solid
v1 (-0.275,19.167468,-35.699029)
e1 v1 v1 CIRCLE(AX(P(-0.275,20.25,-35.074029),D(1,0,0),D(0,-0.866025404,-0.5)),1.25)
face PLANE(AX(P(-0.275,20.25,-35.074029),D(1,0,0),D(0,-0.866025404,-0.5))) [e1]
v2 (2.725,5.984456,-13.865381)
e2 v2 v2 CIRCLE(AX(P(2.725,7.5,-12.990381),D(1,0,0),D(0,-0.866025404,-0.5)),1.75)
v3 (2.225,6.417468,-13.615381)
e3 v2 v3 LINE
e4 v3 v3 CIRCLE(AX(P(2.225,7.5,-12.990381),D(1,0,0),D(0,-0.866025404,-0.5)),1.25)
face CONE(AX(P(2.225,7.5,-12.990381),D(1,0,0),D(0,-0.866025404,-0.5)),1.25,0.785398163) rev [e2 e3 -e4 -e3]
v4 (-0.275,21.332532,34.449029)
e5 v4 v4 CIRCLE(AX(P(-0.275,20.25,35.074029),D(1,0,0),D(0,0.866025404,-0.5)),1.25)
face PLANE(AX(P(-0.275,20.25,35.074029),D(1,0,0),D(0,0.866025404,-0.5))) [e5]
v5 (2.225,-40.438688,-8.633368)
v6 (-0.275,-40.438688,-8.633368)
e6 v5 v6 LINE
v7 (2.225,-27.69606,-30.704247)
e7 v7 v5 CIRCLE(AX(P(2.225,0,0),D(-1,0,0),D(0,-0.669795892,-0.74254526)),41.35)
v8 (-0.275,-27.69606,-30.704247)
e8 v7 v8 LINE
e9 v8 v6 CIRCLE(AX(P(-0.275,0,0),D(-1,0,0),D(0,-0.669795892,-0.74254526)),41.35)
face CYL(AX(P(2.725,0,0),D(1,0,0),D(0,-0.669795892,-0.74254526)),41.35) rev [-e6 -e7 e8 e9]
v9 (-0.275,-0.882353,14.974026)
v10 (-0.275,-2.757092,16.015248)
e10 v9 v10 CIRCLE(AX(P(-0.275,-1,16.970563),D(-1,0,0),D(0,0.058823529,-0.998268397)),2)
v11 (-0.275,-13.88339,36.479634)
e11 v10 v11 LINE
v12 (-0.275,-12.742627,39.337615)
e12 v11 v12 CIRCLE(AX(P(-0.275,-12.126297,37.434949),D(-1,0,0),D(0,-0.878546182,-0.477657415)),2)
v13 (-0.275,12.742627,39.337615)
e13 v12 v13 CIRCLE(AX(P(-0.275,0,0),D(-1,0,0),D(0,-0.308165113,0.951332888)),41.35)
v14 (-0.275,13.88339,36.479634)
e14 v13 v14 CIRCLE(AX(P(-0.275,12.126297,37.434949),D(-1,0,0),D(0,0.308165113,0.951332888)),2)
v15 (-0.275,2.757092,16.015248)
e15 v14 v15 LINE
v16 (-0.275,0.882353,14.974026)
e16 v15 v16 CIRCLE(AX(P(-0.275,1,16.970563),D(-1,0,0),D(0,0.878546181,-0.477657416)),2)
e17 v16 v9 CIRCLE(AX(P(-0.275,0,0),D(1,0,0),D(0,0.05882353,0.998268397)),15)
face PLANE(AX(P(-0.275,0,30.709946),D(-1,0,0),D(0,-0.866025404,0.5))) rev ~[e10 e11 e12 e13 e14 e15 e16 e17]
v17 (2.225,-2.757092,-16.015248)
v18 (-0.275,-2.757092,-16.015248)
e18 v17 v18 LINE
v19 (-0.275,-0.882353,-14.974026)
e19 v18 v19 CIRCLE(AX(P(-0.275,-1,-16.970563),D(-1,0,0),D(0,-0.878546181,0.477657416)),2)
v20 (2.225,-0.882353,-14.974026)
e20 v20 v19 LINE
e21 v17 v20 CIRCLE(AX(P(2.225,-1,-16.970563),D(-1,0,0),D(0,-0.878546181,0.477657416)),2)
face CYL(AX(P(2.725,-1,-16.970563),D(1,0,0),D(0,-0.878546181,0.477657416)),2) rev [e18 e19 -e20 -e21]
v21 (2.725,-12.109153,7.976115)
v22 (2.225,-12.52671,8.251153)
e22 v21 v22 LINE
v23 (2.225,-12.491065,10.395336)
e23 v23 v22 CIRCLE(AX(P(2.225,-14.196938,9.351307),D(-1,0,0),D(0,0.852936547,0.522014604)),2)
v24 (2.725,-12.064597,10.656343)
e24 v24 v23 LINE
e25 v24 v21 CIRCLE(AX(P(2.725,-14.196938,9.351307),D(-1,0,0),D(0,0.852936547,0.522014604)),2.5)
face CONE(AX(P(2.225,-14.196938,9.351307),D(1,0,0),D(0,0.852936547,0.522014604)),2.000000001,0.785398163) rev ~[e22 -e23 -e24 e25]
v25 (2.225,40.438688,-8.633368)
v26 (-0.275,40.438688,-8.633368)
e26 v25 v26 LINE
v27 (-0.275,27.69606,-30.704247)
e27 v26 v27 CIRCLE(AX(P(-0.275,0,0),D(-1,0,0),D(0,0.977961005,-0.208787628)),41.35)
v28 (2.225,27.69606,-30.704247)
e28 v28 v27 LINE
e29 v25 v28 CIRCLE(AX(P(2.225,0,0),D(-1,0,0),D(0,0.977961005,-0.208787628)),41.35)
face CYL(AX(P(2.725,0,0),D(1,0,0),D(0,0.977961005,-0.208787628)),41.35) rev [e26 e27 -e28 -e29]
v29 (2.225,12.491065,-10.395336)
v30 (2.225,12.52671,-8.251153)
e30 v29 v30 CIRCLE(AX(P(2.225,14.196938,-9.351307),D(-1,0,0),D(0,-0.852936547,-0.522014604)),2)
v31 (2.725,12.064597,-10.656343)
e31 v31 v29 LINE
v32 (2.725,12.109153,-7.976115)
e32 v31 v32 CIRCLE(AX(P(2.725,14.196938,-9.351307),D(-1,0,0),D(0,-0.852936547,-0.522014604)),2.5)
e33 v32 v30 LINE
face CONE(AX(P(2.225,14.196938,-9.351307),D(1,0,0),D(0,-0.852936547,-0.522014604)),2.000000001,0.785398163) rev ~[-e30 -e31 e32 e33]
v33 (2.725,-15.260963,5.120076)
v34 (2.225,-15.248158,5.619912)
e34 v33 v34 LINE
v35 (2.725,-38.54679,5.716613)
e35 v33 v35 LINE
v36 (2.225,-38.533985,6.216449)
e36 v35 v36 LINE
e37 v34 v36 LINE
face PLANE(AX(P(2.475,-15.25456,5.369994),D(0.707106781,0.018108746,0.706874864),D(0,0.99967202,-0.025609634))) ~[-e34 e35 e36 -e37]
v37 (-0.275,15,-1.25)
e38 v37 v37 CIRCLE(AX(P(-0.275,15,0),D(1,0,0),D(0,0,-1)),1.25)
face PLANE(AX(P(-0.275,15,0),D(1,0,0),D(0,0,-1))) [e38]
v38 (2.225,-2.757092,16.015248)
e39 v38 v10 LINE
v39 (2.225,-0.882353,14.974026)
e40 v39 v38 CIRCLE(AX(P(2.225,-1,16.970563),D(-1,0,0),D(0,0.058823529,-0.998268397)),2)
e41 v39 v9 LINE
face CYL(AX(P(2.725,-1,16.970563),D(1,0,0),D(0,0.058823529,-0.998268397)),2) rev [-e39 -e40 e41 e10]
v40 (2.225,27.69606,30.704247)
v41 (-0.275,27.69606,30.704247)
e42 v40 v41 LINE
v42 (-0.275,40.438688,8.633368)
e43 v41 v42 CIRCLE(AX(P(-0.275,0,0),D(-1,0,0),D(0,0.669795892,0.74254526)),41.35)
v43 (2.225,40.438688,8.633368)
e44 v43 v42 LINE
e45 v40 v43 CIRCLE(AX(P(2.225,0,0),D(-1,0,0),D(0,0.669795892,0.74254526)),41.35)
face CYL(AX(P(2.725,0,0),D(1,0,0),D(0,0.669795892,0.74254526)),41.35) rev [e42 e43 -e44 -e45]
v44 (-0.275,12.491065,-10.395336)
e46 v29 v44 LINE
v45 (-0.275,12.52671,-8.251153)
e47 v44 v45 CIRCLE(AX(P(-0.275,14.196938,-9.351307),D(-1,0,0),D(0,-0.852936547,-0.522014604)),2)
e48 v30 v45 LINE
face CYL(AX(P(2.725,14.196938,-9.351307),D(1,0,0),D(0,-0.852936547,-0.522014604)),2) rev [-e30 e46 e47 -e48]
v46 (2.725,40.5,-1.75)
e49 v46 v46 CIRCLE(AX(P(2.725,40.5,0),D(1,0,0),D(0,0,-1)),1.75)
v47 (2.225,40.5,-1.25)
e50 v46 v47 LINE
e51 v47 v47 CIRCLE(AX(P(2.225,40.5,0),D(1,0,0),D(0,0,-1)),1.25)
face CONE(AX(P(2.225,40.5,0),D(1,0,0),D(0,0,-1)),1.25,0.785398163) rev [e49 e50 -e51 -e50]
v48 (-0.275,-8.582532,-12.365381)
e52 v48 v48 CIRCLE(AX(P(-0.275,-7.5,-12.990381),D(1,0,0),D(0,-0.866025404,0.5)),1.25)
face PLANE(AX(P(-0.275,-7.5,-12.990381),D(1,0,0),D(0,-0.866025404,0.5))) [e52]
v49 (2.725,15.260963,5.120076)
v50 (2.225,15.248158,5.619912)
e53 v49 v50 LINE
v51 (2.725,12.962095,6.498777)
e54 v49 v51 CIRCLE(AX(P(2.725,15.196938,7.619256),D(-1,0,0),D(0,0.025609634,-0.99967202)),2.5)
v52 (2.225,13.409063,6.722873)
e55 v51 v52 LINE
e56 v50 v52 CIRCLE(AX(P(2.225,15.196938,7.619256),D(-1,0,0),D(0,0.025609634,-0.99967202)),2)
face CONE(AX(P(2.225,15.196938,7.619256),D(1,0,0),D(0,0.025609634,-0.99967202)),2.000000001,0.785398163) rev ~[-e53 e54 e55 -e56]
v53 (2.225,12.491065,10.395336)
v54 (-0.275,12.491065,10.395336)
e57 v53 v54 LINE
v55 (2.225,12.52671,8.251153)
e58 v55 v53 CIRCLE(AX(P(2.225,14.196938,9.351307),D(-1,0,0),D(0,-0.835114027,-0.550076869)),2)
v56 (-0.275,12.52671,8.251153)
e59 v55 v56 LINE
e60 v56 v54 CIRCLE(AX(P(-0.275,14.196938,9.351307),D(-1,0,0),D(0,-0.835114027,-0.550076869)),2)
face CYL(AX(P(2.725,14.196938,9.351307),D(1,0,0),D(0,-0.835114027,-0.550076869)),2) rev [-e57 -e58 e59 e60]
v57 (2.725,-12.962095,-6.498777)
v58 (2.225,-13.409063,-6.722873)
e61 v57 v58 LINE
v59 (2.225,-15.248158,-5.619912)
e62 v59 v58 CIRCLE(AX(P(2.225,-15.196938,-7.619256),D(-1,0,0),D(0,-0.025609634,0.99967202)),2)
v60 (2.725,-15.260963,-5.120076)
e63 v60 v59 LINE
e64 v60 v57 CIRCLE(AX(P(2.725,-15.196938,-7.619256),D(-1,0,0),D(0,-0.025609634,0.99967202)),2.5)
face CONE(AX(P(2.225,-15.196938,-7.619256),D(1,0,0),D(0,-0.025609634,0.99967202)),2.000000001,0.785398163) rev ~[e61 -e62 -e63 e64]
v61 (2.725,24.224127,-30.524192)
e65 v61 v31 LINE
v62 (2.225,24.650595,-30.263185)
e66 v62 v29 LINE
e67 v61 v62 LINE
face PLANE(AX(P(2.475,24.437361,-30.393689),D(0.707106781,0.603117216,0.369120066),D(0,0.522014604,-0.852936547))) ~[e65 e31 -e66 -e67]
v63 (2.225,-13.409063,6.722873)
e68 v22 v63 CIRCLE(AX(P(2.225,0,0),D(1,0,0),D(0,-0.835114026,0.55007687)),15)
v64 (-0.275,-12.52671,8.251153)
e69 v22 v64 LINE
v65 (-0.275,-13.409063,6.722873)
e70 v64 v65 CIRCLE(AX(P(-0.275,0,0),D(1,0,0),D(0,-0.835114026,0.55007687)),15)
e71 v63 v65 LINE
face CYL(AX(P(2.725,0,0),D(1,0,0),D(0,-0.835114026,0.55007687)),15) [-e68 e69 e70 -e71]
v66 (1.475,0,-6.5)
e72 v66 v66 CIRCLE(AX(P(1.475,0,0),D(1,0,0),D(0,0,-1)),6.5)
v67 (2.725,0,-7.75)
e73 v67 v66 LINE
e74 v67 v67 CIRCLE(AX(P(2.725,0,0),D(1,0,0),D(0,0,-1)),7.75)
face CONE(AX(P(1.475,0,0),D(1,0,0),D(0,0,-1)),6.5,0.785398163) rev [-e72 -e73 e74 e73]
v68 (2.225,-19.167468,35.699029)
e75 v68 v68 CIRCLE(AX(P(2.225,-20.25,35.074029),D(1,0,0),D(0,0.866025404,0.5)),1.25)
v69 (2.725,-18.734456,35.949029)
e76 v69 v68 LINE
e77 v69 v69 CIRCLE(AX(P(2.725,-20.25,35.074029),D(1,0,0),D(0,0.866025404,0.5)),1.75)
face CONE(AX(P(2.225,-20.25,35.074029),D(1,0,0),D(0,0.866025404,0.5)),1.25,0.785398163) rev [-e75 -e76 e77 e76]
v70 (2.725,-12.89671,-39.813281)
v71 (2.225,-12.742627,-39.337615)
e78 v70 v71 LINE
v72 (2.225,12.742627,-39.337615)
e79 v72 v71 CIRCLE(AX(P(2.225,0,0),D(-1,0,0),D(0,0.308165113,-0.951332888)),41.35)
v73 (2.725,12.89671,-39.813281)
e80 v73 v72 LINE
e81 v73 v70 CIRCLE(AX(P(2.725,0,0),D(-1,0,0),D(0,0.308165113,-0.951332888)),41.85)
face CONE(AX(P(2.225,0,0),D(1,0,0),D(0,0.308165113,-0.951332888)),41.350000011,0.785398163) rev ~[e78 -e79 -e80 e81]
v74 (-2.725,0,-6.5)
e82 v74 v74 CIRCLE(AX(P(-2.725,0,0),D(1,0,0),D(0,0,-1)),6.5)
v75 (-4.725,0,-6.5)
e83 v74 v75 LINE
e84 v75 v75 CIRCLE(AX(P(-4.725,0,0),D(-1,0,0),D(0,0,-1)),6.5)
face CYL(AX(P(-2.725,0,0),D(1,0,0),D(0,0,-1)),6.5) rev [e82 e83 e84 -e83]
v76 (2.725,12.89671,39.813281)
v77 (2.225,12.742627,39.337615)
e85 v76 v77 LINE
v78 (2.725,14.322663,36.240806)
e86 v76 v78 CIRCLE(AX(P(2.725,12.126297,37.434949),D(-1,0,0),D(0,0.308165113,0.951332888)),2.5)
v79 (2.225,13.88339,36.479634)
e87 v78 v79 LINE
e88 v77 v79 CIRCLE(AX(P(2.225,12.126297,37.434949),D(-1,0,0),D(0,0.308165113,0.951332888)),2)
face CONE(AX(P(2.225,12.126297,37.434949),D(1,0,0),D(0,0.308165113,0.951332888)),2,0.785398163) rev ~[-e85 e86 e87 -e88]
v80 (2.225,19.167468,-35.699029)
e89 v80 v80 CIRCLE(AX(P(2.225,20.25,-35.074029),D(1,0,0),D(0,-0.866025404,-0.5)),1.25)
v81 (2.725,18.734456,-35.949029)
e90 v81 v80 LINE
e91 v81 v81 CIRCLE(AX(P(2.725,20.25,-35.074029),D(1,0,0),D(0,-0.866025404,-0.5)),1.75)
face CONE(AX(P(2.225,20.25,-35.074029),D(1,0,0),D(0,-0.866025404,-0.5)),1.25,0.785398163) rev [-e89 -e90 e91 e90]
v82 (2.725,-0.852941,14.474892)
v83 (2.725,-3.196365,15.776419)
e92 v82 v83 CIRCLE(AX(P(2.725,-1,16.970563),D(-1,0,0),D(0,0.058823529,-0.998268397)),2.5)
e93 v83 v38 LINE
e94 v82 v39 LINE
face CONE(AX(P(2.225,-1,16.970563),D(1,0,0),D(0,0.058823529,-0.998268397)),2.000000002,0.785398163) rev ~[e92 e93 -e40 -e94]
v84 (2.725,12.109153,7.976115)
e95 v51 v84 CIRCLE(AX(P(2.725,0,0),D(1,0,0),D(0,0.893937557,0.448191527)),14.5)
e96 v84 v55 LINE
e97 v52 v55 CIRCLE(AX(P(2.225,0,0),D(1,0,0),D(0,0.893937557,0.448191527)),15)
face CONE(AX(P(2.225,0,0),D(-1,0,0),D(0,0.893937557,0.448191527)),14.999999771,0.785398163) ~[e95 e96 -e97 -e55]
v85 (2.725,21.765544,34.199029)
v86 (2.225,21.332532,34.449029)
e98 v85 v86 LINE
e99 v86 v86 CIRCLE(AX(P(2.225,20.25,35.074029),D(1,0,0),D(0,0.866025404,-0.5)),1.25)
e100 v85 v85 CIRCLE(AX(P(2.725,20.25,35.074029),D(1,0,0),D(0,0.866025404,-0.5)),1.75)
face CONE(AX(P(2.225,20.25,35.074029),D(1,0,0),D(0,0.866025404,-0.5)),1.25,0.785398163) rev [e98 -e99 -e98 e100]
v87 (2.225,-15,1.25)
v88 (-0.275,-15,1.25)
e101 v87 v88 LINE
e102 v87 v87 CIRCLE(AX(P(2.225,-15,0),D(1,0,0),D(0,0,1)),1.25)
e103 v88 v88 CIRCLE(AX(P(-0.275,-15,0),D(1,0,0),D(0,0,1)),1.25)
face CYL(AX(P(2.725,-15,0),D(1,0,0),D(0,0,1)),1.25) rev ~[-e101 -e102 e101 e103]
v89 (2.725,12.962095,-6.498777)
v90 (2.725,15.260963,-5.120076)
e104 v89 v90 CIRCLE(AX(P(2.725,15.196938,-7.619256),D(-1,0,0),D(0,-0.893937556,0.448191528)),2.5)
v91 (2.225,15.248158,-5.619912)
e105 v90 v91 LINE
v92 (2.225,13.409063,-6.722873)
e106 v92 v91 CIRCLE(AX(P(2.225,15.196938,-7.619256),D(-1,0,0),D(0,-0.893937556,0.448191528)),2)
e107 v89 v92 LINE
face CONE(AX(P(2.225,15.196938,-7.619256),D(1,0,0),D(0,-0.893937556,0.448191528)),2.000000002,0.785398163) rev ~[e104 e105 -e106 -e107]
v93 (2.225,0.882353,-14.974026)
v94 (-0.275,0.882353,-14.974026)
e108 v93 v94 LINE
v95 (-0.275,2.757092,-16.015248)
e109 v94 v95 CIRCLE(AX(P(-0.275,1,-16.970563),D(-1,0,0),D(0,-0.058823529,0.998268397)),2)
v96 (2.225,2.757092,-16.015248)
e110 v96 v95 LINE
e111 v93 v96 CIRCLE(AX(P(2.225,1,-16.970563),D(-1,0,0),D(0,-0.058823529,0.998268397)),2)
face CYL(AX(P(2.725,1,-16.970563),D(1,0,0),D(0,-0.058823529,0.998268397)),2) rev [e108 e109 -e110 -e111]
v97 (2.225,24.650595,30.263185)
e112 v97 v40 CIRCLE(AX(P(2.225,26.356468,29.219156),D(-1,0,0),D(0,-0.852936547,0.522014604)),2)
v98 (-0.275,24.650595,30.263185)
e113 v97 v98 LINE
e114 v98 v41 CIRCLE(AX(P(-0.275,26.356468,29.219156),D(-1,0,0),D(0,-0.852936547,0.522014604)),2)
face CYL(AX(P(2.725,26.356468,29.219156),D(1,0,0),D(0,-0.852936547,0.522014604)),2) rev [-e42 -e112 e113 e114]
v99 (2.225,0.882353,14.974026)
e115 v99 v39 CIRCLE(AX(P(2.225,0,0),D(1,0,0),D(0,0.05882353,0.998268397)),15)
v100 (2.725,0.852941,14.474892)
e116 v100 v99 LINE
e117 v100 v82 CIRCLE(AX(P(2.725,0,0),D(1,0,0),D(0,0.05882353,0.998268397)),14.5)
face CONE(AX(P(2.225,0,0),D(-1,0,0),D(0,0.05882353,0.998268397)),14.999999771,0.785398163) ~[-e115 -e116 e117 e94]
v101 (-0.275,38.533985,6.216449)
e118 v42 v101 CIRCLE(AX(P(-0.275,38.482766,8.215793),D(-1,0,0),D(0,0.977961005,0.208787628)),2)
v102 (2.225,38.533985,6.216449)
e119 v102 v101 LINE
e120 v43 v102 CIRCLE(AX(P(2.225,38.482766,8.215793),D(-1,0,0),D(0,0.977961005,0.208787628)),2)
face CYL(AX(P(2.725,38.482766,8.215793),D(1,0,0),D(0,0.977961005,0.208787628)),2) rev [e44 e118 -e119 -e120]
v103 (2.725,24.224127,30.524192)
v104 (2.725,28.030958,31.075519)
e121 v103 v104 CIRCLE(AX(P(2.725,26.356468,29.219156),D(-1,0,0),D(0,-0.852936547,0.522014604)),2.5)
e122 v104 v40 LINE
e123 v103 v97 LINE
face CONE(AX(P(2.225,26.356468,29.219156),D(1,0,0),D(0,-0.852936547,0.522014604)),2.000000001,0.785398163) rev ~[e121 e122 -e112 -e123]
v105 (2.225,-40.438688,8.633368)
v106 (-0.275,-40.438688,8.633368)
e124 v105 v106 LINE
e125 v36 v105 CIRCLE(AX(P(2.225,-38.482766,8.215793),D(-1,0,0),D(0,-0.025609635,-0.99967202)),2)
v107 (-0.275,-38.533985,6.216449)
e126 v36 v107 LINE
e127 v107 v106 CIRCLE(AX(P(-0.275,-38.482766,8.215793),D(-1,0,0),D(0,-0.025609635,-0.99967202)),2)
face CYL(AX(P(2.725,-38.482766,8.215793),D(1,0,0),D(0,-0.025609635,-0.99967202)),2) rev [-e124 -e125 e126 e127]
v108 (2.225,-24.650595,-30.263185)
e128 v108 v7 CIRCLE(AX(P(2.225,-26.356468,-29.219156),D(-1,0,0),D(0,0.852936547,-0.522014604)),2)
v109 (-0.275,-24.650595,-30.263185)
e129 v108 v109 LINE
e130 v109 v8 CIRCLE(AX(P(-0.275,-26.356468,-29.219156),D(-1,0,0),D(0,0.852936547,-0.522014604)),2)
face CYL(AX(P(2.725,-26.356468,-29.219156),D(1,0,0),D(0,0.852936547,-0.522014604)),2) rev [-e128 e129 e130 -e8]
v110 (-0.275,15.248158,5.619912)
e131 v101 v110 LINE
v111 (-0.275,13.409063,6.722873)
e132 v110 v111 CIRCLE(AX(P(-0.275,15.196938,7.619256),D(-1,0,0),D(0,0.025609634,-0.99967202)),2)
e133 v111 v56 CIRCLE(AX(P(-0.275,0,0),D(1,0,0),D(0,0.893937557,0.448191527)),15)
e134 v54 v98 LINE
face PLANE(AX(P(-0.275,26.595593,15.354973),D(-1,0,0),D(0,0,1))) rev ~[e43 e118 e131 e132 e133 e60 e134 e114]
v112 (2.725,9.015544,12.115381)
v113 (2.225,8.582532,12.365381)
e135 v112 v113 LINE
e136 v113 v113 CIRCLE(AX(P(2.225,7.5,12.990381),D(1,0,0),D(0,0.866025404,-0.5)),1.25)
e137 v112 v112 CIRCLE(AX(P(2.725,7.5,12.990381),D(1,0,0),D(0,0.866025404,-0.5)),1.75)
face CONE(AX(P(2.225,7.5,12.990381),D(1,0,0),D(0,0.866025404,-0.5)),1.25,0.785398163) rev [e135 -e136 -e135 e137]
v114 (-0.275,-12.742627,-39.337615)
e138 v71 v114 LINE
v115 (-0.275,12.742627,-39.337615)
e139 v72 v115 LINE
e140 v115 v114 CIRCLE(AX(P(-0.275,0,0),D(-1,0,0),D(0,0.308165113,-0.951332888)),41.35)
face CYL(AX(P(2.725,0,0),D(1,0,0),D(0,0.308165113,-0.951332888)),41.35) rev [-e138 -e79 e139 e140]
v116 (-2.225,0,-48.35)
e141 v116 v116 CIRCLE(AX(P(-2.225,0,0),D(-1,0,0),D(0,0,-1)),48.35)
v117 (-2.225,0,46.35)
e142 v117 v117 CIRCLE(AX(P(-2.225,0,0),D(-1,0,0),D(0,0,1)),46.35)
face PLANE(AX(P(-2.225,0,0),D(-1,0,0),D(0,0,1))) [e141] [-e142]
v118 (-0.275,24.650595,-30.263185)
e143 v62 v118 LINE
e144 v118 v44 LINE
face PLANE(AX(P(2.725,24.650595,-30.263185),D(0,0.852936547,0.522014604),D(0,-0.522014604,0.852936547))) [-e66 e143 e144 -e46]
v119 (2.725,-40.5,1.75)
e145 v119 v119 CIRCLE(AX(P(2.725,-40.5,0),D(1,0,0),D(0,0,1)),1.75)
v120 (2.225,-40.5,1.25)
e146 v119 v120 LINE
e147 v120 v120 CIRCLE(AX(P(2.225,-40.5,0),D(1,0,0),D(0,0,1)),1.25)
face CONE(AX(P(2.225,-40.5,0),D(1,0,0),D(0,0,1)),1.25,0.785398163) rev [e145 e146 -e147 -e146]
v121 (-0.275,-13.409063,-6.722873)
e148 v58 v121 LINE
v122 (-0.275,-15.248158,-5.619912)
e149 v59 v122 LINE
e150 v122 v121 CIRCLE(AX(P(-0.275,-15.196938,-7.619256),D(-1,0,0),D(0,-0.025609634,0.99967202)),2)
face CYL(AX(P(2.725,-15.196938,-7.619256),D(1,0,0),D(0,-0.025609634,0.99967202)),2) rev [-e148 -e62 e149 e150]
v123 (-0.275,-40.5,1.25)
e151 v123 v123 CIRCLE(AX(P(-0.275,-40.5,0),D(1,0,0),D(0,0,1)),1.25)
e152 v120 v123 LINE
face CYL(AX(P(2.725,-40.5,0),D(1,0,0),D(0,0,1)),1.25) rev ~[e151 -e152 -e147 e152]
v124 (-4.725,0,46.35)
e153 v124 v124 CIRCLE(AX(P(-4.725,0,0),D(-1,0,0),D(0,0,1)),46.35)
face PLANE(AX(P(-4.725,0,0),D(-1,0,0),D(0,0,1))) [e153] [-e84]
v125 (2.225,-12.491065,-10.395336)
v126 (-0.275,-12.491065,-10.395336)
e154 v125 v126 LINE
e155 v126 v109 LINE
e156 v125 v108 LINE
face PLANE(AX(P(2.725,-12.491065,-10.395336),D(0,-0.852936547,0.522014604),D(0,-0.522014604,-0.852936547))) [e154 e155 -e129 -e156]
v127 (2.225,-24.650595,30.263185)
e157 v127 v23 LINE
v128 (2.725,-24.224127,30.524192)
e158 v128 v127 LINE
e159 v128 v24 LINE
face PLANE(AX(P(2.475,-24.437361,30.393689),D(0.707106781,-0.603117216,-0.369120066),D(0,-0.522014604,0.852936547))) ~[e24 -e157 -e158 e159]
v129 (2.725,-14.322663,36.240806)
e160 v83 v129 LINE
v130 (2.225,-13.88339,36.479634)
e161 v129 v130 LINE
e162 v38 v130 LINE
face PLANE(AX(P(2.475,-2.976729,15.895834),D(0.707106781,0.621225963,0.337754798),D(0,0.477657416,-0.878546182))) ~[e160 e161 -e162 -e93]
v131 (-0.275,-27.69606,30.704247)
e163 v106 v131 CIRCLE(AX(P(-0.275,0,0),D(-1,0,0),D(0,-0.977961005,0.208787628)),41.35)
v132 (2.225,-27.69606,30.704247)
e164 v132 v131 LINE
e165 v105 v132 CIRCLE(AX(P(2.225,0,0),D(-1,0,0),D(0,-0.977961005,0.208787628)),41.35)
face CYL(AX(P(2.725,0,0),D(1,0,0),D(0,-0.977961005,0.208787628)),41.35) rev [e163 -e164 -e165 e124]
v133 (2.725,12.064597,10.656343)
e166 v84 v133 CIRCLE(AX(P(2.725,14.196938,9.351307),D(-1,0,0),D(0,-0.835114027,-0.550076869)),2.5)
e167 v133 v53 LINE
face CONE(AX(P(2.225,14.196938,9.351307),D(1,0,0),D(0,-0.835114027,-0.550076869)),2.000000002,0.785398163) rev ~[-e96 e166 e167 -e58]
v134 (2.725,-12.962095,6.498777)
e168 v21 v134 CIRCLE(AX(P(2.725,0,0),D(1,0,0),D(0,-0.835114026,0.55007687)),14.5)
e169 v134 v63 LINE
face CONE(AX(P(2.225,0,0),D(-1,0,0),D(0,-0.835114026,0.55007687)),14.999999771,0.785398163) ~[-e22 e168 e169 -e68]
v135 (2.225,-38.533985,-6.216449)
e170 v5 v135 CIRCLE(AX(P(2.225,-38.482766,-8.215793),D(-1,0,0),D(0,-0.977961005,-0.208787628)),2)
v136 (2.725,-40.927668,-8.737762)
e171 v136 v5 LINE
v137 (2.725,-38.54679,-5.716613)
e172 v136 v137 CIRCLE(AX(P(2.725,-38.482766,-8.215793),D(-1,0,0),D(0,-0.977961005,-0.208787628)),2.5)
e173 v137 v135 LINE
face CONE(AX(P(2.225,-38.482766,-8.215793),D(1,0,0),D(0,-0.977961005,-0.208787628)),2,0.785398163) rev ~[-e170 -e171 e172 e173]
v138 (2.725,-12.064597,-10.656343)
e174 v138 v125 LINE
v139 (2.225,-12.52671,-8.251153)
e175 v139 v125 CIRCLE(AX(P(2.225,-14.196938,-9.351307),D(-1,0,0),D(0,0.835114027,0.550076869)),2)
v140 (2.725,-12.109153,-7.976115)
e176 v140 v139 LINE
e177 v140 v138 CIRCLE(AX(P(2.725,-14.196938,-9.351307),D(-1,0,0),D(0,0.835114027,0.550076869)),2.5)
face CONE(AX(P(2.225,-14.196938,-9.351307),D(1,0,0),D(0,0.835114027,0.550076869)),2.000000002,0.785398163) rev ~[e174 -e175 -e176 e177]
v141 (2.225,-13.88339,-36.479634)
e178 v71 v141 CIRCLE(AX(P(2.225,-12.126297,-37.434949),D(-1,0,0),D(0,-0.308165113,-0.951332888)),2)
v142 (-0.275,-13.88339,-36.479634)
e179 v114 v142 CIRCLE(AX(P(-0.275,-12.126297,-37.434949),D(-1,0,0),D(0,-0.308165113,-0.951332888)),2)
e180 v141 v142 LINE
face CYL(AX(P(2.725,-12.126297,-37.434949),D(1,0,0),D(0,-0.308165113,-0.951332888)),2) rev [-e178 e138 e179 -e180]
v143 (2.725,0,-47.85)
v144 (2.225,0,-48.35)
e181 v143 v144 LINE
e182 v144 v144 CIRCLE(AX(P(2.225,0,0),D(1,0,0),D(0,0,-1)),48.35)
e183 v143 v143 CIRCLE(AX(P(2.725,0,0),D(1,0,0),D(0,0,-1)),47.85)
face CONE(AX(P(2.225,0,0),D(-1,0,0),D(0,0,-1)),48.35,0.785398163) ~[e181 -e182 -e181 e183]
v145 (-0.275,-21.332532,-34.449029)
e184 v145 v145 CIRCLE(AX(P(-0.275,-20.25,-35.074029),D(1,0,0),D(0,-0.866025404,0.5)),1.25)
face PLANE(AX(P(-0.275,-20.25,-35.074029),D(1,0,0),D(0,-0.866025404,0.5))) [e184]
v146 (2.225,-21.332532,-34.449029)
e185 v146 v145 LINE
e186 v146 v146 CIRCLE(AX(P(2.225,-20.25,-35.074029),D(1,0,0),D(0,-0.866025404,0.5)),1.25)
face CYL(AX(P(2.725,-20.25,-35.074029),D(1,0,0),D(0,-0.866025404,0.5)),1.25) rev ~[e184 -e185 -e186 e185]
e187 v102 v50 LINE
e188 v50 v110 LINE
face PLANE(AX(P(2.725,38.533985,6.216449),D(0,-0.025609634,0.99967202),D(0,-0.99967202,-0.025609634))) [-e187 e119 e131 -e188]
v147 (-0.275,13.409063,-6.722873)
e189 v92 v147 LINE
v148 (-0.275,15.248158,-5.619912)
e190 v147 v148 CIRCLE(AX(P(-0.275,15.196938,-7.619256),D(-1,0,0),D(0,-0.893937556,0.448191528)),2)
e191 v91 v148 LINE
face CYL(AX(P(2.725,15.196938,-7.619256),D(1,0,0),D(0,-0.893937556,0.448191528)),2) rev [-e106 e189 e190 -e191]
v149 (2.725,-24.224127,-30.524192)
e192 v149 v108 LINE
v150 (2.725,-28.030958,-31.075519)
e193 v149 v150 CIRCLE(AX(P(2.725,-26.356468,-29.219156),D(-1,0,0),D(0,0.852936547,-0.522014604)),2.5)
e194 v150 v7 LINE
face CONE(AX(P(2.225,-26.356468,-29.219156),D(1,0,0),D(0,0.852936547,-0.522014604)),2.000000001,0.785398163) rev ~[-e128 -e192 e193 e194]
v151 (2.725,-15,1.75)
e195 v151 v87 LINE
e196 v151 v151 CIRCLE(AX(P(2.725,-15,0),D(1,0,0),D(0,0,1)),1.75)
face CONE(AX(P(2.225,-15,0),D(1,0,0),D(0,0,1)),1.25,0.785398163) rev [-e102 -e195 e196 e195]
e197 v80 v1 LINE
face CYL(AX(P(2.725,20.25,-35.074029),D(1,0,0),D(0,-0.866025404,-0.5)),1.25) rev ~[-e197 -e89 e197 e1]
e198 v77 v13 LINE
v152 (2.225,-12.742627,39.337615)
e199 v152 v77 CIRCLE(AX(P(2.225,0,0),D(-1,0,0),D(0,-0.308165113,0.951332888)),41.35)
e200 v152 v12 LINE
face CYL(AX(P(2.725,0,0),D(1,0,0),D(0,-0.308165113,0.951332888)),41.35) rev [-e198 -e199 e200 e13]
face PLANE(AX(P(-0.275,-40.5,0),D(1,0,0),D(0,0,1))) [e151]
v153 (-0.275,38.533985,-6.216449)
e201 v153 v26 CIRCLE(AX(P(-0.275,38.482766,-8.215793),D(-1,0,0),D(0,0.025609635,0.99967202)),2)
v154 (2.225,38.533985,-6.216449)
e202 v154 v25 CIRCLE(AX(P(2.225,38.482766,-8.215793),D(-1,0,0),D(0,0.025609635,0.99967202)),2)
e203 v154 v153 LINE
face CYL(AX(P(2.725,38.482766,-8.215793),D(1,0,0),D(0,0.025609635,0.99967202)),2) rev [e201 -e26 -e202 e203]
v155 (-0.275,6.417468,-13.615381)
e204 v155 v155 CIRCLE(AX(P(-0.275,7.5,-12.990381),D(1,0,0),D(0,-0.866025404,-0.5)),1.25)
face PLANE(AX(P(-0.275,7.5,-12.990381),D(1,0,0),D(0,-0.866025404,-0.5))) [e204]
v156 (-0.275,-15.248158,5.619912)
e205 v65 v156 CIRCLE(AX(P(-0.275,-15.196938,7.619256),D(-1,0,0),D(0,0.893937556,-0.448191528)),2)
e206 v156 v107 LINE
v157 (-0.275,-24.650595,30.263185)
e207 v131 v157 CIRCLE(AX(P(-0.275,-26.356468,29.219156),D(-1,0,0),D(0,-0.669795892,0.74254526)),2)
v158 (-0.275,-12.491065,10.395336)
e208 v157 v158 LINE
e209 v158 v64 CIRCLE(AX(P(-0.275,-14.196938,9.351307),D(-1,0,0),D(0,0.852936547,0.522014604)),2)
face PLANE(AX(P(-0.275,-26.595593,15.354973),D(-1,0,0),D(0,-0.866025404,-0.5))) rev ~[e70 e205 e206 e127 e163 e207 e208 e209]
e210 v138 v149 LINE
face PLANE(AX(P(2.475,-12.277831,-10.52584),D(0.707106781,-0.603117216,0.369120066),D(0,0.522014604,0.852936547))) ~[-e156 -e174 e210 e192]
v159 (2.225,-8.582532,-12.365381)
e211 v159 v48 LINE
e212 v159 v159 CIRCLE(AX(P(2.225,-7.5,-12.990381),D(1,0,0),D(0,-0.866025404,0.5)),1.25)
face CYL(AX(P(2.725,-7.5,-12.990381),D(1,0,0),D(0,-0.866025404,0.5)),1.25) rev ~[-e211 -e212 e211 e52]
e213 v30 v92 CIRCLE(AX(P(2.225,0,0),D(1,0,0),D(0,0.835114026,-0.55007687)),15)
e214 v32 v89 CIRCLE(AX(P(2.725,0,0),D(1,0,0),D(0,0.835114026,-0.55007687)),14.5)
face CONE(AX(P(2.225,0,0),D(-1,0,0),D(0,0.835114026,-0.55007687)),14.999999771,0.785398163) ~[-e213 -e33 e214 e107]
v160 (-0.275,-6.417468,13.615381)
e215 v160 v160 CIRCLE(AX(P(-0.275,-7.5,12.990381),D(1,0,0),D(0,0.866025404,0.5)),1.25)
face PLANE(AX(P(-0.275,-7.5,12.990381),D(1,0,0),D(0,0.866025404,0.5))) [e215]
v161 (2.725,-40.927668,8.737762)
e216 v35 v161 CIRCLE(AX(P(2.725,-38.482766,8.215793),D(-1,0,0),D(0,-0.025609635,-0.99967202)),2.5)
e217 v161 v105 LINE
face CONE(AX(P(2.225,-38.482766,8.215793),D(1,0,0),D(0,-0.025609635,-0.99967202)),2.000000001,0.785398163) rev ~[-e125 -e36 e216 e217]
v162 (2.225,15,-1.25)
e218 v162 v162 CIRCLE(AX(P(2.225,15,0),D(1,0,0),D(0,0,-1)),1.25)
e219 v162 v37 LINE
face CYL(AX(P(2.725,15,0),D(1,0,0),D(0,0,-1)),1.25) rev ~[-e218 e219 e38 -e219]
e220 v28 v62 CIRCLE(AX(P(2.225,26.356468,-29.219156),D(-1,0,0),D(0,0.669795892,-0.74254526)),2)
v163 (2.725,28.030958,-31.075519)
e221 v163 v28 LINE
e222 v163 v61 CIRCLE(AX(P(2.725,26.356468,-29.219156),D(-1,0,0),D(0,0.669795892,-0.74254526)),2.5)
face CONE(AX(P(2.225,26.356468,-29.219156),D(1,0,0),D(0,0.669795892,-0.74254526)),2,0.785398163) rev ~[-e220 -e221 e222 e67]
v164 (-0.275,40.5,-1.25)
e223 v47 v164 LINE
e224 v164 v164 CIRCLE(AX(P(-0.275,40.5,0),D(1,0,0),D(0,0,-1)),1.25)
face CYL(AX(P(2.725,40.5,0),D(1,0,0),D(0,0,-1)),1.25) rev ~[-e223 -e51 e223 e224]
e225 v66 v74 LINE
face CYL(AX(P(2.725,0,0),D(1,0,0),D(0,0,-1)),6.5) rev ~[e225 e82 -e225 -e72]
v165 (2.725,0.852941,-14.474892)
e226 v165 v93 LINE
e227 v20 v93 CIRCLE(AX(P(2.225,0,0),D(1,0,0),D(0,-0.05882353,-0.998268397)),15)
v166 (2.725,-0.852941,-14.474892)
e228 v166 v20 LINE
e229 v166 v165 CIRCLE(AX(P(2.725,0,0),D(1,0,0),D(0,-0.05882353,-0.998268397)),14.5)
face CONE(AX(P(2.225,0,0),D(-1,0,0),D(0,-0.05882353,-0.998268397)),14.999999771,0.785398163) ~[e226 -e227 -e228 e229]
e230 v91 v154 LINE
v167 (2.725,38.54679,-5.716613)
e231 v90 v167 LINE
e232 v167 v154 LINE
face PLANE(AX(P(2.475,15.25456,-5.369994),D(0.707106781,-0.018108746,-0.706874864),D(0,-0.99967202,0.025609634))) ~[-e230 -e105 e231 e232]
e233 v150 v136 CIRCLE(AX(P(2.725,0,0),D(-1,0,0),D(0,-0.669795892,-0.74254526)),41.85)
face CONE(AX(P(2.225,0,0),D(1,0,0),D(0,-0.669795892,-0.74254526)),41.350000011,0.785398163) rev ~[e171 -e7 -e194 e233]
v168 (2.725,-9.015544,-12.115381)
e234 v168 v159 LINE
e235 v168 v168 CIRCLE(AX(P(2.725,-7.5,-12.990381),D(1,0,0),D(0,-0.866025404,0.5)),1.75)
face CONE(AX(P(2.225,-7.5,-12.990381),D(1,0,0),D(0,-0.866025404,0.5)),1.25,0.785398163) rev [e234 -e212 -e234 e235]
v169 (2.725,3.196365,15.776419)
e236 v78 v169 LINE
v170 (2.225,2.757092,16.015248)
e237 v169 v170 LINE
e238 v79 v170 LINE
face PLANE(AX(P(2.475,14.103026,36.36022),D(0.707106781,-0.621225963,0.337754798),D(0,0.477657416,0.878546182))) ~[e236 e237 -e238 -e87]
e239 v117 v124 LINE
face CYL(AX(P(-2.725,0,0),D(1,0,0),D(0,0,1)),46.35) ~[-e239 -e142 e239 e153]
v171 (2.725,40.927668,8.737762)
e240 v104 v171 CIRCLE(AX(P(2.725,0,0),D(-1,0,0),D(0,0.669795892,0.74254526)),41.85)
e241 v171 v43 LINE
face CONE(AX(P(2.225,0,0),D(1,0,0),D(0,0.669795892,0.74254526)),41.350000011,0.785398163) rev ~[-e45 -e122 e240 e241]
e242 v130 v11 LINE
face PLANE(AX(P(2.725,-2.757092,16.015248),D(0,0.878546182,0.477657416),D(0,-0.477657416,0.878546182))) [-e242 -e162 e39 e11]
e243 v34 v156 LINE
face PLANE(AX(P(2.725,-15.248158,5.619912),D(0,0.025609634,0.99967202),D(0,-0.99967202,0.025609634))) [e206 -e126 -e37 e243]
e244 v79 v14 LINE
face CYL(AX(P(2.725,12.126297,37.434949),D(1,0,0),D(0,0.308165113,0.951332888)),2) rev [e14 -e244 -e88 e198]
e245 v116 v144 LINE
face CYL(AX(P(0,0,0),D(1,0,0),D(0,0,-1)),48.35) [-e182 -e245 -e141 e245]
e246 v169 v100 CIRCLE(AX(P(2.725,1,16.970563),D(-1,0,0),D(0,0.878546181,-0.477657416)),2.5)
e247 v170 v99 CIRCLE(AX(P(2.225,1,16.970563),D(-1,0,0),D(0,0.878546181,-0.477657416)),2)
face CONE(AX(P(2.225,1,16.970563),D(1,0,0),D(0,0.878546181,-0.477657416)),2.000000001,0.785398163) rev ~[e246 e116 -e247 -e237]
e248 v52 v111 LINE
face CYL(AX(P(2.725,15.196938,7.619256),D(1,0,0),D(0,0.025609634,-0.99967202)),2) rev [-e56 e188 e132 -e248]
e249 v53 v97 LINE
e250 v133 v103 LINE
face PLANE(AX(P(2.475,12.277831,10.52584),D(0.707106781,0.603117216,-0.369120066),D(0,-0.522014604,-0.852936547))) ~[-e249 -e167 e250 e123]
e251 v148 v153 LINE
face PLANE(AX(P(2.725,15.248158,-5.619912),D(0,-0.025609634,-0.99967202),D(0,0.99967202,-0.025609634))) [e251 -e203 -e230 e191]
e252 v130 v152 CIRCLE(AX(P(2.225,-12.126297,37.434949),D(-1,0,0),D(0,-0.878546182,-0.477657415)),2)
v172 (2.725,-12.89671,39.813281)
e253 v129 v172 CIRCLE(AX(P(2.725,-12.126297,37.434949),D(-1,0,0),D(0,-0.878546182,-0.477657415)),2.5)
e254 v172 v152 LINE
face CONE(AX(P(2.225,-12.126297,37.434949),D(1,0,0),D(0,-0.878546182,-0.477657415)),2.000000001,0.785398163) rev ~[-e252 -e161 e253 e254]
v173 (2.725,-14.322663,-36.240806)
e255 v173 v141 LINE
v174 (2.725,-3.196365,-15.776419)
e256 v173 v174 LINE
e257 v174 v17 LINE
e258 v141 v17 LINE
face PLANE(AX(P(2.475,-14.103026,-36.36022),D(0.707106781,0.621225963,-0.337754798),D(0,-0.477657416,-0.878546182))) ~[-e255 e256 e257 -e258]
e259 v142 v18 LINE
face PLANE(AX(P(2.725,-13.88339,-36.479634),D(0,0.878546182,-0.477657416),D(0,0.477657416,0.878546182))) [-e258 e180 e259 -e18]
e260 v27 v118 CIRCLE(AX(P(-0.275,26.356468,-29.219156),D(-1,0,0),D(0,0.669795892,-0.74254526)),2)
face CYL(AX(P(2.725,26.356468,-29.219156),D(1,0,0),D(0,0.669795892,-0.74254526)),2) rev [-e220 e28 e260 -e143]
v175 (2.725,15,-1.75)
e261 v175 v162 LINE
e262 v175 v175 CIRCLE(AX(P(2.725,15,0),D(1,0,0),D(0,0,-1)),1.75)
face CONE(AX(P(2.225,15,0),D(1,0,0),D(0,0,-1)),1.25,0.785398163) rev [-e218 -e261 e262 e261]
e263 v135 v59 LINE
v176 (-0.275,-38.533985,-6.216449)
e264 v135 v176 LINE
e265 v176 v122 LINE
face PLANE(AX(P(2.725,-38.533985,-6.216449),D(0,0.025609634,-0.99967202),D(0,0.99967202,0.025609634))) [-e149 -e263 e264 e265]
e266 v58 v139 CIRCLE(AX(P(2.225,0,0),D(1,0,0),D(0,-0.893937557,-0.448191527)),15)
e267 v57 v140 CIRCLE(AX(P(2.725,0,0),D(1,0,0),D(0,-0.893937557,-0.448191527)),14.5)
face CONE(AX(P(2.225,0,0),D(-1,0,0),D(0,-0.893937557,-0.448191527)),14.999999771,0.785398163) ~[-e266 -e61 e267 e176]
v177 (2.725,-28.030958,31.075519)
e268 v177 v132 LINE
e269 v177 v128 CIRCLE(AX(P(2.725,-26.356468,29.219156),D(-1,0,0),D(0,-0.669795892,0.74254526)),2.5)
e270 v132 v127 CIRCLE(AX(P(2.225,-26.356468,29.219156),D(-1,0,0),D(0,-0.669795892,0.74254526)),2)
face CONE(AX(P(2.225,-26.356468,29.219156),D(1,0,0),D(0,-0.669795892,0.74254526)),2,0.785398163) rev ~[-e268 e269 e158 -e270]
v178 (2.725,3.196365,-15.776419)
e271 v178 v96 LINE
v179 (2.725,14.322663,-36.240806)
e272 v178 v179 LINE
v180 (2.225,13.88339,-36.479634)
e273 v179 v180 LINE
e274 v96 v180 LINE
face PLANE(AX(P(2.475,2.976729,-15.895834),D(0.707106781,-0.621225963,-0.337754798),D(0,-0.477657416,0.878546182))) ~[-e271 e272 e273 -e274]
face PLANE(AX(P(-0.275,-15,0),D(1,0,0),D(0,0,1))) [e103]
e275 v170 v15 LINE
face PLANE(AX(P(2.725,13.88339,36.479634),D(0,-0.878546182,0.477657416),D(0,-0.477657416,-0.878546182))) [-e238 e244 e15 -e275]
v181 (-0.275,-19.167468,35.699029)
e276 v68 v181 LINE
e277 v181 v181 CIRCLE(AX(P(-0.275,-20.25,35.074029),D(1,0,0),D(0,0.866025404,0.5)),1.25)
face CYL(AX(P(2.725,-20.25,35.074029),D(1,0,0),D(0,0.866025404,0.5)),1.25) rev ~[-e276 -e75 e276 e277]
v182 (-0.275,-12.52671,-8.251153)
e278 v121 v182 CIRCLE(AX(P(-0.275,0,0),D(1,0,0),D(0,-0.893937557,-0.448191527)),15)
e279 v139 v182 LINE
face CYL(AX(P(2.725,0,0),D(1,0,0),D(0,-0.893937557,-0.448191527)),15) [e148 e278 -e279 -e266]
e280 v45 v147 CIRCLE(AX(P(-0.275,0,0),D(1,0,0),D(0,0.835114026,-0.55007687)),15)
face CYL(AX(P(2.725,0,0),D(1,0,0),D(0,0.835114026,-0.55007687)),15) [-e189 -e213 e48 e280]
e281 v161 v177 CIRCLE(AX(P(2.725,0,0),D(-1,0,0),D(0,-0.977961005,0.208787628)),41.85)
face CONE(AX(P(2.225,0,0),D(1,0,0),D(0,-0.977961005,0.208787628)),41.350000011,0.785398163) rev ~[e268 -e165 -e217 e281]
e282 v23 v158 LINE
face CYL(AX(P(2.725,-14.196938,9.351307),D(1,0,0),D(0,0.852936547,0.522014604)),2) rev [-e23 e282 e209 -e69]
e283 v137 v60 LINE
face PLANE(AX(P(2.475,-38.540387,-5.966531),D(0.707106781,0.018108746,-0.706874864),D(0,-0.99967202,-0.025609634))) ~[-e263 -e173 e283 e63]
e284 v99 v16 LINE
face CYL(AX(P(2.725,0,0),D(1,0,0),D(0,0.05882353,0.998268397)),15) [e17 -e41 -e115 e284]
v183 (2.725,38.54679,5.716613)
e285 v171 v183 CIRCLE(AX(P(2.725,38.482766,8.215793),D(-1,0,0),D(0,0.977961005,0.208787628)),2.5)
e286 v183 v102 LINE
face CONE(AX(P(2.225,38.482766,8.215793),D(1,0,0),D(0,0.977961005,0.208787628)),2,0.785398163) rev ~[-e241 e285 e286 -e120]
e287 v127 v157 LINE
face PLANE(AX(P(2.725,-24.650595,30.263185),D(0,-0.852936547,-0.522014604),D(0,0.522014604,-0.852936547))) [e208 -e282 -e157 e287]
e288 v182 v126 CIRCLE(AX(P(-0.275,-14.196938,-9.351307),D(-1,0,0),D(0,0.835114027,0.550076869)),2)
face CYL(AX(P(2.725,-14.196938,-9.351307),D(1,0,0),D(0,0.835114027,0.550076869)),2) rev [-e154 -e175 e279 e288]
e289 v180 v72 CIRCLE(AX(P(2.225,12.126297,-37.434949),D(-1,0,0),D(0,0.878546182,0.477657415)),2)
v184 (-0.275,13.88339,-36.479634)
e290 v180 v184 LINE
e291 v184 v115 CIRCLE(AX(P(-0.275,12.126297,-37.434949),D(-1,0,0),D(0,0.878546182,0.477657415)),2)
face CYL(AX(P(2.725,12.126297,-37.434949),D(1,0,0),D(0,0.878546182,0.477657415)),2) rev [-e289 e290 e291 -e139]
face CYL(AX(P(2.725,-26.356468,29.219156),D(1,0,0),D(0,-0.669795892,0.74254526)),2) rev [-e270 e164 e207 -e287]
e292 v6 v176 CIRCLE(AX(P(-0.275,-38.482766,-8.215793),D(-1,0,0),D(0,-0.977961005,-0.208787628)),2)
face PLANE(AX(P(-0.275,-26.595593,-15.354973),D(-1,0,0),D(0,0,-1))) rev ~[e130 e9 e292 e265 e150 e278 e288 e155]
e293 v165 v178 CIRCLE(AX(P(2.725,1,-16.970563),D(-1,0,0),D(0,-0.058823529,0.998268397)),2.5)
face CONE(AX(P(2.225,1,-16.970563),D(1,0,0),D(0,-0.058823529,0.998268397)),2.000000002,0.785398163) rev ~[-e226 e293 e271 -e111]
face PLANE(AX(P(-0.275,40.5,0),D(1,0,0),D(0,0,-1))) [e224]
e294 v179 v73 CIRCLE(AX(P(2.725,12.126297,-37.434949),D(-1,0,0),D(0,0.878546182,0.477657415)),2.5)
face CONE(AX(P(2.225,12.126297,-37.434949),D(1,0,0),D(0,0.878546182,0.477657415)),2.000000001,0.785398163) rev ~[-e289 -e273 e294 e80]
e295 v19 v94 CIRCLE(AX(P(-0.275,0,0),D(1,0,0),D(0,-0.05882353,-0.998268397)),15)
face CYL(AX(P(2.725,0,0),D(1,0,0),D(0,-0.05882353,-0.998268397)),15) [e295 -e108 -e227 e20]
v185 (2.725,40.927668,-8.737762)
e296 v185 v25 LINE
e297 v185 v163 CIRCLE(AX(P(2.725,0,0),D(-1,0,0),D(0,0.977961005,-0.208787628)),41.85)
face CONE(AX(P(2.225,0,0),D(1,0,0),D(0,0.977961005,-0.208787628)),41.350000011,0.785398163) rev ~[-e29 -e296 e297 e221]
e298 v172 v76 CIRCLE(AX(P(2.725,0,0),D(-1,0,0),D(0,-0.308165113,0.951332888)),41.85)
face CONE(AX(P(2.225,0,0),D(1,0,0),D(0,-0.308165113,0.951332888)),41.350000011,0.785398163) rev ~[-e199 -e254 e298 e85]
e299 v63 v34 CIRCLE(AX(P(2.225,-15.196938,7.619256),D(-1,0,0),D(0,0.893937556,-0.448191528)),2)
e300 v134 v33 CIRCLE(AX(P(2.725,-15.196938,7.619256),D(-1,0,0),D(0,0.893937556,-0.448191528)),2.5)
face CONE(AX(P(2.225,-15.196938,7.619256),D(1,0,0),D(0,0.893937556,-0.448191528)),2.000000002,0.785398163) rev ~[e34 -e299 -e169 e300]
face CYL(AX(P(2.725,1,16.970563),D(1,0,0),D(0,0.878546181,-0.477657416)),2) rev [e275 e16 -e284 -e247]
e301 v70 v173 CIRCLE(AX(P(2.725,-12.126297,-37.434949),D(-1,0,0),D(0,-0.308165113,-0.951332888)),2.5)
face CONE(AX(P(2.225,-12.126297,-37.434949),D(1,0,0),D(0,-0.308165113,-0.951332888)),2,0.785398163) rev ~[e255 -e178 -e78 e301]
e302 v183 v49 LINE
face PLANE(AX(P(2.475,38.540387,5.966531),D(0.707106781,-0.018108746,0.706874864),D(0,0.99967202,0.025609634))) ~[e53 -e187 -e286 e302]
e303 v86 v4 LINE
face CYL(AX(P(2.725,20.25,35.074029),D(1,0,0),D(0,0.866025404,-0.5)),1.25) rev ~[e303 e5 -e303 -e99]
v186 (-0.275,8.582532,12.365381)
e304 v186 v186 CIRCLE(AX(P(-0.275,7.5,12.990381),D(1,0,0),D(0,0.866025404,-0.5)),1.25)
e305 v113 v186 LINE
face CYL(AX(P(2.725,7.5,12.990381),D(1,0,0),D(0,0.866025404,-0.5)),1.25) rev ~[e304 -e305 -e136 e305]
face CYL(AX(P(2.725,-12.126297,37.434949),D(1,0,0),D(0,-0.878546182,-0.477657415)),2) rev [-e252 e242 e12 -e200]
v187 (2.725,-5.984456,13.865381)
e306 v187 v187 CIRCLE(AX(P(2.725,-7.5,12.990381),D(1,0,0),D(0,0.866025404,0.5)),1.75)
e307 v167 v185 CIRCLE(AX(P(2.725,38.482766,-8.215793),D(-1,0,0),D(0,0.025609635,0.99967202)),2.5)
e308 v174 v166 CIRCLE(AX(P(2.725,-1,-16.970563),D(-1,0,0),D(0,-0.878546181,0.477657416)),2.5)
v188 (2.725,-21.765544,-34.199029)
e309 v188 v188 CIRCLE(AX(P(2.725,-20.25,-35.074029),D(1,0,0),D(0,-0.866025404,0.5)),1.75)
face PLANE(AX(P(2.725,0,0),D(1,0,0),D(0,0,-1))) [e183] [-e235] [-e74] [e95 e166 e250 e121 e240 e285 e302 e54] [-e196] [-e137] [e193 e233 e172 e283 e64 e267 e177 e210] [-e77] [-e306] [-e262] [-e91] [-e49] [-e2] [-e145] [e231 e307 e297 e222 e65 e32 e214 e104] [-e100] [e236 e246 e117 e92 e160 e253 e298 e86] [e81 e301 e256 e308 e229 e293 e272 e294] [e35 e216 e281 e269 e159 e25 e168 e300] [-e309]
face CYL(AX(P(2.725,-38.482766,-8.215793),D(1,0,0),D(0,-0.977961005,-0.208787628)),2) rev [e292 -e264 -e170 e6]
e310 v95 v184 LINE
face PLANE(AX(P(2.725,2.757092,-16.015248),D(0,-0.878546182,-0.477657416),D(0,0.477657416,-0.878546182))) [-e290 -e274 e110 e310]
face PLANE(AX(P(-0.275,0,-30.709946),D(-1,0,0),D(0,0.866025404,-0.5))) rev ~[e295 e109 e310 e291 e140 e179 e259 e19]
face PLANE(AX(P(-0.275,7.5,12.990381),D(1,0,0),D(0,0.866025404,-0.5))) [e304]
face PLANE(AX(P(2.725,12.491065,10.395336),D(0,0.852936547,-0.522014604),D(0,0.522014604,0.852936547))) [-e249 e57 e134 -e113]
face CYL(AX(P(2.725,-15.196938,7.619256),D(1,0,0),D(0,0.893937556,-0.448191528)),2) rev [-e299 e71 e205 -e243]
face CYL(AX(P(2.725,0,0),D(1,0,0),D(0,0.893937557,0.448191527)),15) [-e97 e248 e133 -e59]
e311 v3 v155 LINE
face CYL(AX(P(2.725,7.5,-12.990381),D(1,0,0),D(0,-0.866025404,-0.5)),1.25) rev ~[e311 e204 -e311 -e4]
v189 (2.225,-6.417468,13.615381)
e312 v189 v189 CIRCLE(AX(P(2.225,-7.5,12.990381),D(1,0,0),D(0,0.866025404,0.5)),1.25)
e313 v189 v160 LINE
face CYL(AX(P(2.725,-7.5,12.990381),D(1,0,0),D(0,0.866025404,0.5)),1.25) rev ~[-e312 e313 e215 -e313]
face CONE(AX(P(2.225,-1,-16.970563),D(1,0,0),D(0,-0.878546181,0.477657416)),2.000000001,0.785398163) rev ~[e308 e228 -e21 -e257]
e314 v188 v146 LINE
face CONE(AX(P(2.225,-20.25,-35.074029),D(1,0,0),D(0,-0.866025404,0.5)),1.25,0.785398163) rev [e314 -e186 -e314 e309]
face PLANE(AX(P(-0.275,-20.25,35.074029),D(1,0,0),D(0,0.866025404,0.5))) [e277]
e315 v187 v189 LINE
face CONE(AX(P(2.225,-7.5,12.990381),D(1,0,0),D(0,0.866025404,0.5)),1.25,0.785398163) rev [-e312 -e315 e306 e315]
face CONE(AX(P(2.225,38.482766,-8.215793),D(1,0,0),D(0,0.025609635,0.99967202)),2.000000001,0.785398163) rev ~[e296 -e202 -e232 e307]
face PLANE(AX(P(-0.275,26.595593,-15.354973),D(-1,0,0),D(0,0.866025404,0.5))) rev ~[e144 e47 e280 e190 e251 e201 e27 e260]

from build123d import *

# Parameters (mm, degrees)
SKETCH1_R           = 48.35
BOSS_EXTRUDE1_DEPTH = 2.725
SKETCH3_R           = 1.25
CUT_EXTRUDE1_DEPTH  = 3
CIRPATTERN1_COUNT   = 6
SKETCH4_R           = 1.25
CUT_EXTRUDE2_DEPTH  = 3
CIRPATTERN2_COUNT   = 6
SKETCH5_R           = 6.5
CUT_EXTRUDE3_DEPTH  = 5.45
CHAMFER1_SIZE       = 0.5
CHAMFER2_SIZE       = 1.25
CHAMFER3_SIZE       = 0.5
SKETCH6_R           = 46.35
SKETCH6_R_2         = 6.5
BOSS_EXTRUDE2_DEPTH = 2
CUT_EXTRUDE4_START  = -0.5
SKETCH7_R           = 48.35
SKETCH7_R_2         = 46.35
CUT_EXTRUDE4_DEPTH  = 0.5
CUT_EXTRUDE6_DEPTH  = 3
CIRPATTERN3_COUNT   = 6
CHAMFER4_SIZE       = 0.5


with BuildPart() as part:
    # Sketch1 → Boss-Extrude1 (new, symmetric)
    with BuildSketch(Plane(origin=(0, 0, 0), x_dir=(0, 0, -1), z_dir=(1, 0, 0))):
        Circle(SKETCH1_R)
    extrude(amount=BOSS_EXTRUDE1_DEPTH, both=True)

    # Sketch3 → Cut-Extrude1 (cut)
    with BuildSketch(Plane(origin=(2.725, 0, 0), x_dir=(0, 0, -1), z_dir=(1, 0, 0))):
        with Locations((0, 40.5)):
            Circle(SKETCH3_R)
    cut_extrude1 = extrude(amount=-CUT_EXTRUDE1_DEPTH, mode=Mode.SUBTRACT)

    # CirPattern1: Cut-Extrude1 ×6 about axis
    cirpattern1_axis = Axis((0, 0, 0), (1, 0, 0))
    for i in range(1, CIRPATTERN1_COUNT):
        add(cut_extrude1.rotate(cirpattern1_axis, i * 360 / CIRPATTERN1_COUNT), mode=Mode.SUBTRACT)

    # Sketch4 → Cut-Extrude2 (cut)
    with BuildSketch(Plane(origin=(2.725, 0, 0), x_dir=(0, 0, -1), z_dir=(1, 0, 0))):
        with Locations((0, 15)):
            Circle(SKETCH4_R)
    cut_extrude2 = extrude(amount=-CUT_EXTRUDE2_DEPTH, mode=Mode.SUBTRACT)

    # CirPattern2: Cut-Extrude2 ×6 about axis
    cirpattern2_axis = Axis((0, 0, 0), (1, 0, 0))
    for i in range(1, CIRPATTERN2_COUNT):
        add(cut_extrude2.rotate(cirpattern2_axis, i * 360 / CIRPATTERN2_COUNT), mode=Mode.SUBTRACT)

    # Sketch5 → Cut-Extrude3 (cut)
    with BuildSketch(Plane(origin=(2.725, 0, 0), x_dir=(0, 0, -1), z_dir=(1, 0, 0))):
        Circle(SKETCH5_R)
    extrude(amount=-CUT_EXTRUDE3_DEPTH, mode=Mode.SUBTRACT)

    # Chamfer1
    chamfer1_edges = [part.edges().sort_by_distance(p)[0] for p in [
        (2.725, 19.167468245, 35.699028853),
        (2.725, -21.332531755, 34.449028853),
        (2.725, -40.5, -1.25),
        (2.725, -19.167468245, -35.699028853),
        (2.725, 21.332531755, -34.449028853),
        (2.725, 15, 1.25),
        (2.725, 8.582531755, -12.365381057),
        (2.725, -6.417468245, -13.615381057),
        (2.725, -15, -1.25),
        (2.725, -8.582531755, 12.365381057),
        (2.725, 6.417468245, 13.615381057),
        (2.725, 40.5, 1.25),
    ]]
    chamfer(chamfer1_edges, length=CHAMFER1_SIZE)

    # Chamfer2
    chamfer2_edges = [part.edges().sort_by_distance(p)[0] for p in [
        (2.725, 0, 6.5),
    ]]
    chamfer(chamfer2_edges, length=CHAMFER2_SIZE)

    # Chamfer3
    chamfer3_edges = [part.edges().sort_by_distance(p)[0] for p in [
        (2.725, 0, 48.35),
    ]]
    chamfer(chamfer3_edges, length=CHAMFER3_SIZE)

    # Sketch6 → Boss-Extrude2 (add)
    with BuildSketch(Plane.ZY.offset(2.725)):
        Circle(SKETCH6_R)
        with Locations(Location((0, 0, 0), (0, 0, 180))):
            Circle(SKETCH6_R_2, mode=Mode.SUBTRACT)
    extrude(amount=BOSS_EXTRUDE2_DEPTH)

    # Sketch7 → Cut-Extrude4 (cut)
    with BuildSketch(Plane.ZY.offset(2.725).offset(CUT_EXTRUDE4_START)):
        Circle(SKETCH7_R)
        Circle(SKETCH7_R_2, mode=Mode.SUBTRACT)
    extrude(amount=CUT_EXTRUDE4_DEPTH, mode=Mode.SUBTRACT)

    # Sketch9 → Cut-Extrude6 (cut)
    with BuildSketch(Plane(origin=(2.725, 0, 0), x_dir=(0, 0, -1), z_dir=(1, 0, 0))):
        with BuildLine():
            Line((-6.216449103, 38.533984802), (-5.619911931, 15.248157726))
            ThreePointArc((-5.619911931, 15.248157726), (-5.904066218, 14.168286857), (-6.722872915, 13.409063344))
            ThreePointArc((-6.722872915, 13.409063344), (-7.5, 12.990381057), (-8.251153039, 12.526710403))
            ThreePointArc((-8.251153039, 12.526710403), (-9.318063238, 12.197214759), (-10.395335986, 12.491065362))
            Line((-10.395335986, 12.491065362), (-30.263185196, 24.650595245))
            ThreePointArc((-30.263185196, 24.650595245), (-31.198505813, 26.069807791), (-30.704246509, 27.696060123))
            ThreePointArc((-30.704246509, 27.696060123), (-20.675, 35.810150446), (-8.633368397, 40.438687542))
            ThreePointArc((-8.633368397, 40.438687542), (-6.977862912, 40.05360249), (-6.216449103, 38.533984802))
        make_face()
    cut_extrude6 = extrude(amount=-CUT_EXTRUDE6_DEPTH, mode=Mode.SUBTRACT)

    # CirPattern3: Cut-Extrude6 ×6 about axis
    cirpattern3_axis = Axis((0, 0, 0), (1, 0, 0))
    for i in range(1, CIRPATTERN3_COUNT):
        add(cut_extrude6.rotate(cirpattern3_axis, i * 360 / CIRPATTERN3_COUNT), mode=Mode.SUBTRACT)

    # Chamfer4
    chamfer4_edges = [part.edges().sort_by_distance(p)[0] for p in [
        (2.725, 40.05360249, 6.977862912),
        (2.725, 35.810150446, 20.675),
        (2.725, 26.069807791, 31.198505813),
        (2.725, 18.570830304, 20.329260591),
        (2.725, 12.197214759, 9.318063238),
        (2.725, 12.990381057, 7.5),
        (2.725, 14.168286857, 5.904066218),
        (2.725, 26.891071264, 5.918180517),
        (2.725, -26.069807791, 31.198505813),
        (2.725, -35.810150447, 20.675),
        (2.725, -40.05360249, 6.977862912),
        (2.725, -26.891071264, 5.918180517),
        (2.725, -14.168286857, 5.904066218),
        (2.725, -12.990381057, 7.5),
        (2.725, -12.197214759, 9.318063238),
        (2.725, -18.570830304, 20.329260591),
        (2.725, 13.983794699, 38.176368726),
        (2.725, 0, 41.35),
        (2.725, -13.983794699, 38.176368726),
        (2.725, -8.32024096, 26.247441108),
        (2.725, -1.971072098, 15.222129456),
        (2.725, 0, 15),
        (2.725, 1.971072098, 15.222129456),
        (2.725, 8.32024096, 26.247441108),
        (2.725, -13.983794699, -38.176368726),
        (2.725, 0, -41.35),
        (2.725, 13.983794699, -38.176368726),
        (2.725, 8.32024096, -26.247441108),
        (2.725, 1.971072098, -15.222129456),
        (2.725, 0, -15),
        (2.725, -1.971072098, -15.222129456),
        (2.725, -8.32024096, -26.247441108),
        (2.725, -40.05360249, -6.977862912),
        (2.725, -35.810150446, -20.675),
        (2.725, -26.069807791, -31.198505813),
        (2.725, -18.570830304, -20.329260591),
        (2.725, -12.197214759, -9.318063238),
        (2.725, -12.990381057, -7.5),
        (2.725, -14.168286857, -5.904066218),
        (2.725, -26.891071264, -5.918180517),
        (2.725, 26.069807791, -31.198505813),
        (2.725, 35.810150447, -20.675),
        (2.725, 40.05360249, -6.977862912),
        (2.725, 26.891071264, -5.918180517),
        (2.725, 14.168286857, -5.904066218),
        (2.725, 12.990381057, -7.5),
        (2.725, 12.197214759, -9.318063238),
        (2.725, 18.570830304, -20.329260591),
    ]]
    chamfer(chamfer4_edges, length=CHAMFER4_SIZE)


solid = part.part
